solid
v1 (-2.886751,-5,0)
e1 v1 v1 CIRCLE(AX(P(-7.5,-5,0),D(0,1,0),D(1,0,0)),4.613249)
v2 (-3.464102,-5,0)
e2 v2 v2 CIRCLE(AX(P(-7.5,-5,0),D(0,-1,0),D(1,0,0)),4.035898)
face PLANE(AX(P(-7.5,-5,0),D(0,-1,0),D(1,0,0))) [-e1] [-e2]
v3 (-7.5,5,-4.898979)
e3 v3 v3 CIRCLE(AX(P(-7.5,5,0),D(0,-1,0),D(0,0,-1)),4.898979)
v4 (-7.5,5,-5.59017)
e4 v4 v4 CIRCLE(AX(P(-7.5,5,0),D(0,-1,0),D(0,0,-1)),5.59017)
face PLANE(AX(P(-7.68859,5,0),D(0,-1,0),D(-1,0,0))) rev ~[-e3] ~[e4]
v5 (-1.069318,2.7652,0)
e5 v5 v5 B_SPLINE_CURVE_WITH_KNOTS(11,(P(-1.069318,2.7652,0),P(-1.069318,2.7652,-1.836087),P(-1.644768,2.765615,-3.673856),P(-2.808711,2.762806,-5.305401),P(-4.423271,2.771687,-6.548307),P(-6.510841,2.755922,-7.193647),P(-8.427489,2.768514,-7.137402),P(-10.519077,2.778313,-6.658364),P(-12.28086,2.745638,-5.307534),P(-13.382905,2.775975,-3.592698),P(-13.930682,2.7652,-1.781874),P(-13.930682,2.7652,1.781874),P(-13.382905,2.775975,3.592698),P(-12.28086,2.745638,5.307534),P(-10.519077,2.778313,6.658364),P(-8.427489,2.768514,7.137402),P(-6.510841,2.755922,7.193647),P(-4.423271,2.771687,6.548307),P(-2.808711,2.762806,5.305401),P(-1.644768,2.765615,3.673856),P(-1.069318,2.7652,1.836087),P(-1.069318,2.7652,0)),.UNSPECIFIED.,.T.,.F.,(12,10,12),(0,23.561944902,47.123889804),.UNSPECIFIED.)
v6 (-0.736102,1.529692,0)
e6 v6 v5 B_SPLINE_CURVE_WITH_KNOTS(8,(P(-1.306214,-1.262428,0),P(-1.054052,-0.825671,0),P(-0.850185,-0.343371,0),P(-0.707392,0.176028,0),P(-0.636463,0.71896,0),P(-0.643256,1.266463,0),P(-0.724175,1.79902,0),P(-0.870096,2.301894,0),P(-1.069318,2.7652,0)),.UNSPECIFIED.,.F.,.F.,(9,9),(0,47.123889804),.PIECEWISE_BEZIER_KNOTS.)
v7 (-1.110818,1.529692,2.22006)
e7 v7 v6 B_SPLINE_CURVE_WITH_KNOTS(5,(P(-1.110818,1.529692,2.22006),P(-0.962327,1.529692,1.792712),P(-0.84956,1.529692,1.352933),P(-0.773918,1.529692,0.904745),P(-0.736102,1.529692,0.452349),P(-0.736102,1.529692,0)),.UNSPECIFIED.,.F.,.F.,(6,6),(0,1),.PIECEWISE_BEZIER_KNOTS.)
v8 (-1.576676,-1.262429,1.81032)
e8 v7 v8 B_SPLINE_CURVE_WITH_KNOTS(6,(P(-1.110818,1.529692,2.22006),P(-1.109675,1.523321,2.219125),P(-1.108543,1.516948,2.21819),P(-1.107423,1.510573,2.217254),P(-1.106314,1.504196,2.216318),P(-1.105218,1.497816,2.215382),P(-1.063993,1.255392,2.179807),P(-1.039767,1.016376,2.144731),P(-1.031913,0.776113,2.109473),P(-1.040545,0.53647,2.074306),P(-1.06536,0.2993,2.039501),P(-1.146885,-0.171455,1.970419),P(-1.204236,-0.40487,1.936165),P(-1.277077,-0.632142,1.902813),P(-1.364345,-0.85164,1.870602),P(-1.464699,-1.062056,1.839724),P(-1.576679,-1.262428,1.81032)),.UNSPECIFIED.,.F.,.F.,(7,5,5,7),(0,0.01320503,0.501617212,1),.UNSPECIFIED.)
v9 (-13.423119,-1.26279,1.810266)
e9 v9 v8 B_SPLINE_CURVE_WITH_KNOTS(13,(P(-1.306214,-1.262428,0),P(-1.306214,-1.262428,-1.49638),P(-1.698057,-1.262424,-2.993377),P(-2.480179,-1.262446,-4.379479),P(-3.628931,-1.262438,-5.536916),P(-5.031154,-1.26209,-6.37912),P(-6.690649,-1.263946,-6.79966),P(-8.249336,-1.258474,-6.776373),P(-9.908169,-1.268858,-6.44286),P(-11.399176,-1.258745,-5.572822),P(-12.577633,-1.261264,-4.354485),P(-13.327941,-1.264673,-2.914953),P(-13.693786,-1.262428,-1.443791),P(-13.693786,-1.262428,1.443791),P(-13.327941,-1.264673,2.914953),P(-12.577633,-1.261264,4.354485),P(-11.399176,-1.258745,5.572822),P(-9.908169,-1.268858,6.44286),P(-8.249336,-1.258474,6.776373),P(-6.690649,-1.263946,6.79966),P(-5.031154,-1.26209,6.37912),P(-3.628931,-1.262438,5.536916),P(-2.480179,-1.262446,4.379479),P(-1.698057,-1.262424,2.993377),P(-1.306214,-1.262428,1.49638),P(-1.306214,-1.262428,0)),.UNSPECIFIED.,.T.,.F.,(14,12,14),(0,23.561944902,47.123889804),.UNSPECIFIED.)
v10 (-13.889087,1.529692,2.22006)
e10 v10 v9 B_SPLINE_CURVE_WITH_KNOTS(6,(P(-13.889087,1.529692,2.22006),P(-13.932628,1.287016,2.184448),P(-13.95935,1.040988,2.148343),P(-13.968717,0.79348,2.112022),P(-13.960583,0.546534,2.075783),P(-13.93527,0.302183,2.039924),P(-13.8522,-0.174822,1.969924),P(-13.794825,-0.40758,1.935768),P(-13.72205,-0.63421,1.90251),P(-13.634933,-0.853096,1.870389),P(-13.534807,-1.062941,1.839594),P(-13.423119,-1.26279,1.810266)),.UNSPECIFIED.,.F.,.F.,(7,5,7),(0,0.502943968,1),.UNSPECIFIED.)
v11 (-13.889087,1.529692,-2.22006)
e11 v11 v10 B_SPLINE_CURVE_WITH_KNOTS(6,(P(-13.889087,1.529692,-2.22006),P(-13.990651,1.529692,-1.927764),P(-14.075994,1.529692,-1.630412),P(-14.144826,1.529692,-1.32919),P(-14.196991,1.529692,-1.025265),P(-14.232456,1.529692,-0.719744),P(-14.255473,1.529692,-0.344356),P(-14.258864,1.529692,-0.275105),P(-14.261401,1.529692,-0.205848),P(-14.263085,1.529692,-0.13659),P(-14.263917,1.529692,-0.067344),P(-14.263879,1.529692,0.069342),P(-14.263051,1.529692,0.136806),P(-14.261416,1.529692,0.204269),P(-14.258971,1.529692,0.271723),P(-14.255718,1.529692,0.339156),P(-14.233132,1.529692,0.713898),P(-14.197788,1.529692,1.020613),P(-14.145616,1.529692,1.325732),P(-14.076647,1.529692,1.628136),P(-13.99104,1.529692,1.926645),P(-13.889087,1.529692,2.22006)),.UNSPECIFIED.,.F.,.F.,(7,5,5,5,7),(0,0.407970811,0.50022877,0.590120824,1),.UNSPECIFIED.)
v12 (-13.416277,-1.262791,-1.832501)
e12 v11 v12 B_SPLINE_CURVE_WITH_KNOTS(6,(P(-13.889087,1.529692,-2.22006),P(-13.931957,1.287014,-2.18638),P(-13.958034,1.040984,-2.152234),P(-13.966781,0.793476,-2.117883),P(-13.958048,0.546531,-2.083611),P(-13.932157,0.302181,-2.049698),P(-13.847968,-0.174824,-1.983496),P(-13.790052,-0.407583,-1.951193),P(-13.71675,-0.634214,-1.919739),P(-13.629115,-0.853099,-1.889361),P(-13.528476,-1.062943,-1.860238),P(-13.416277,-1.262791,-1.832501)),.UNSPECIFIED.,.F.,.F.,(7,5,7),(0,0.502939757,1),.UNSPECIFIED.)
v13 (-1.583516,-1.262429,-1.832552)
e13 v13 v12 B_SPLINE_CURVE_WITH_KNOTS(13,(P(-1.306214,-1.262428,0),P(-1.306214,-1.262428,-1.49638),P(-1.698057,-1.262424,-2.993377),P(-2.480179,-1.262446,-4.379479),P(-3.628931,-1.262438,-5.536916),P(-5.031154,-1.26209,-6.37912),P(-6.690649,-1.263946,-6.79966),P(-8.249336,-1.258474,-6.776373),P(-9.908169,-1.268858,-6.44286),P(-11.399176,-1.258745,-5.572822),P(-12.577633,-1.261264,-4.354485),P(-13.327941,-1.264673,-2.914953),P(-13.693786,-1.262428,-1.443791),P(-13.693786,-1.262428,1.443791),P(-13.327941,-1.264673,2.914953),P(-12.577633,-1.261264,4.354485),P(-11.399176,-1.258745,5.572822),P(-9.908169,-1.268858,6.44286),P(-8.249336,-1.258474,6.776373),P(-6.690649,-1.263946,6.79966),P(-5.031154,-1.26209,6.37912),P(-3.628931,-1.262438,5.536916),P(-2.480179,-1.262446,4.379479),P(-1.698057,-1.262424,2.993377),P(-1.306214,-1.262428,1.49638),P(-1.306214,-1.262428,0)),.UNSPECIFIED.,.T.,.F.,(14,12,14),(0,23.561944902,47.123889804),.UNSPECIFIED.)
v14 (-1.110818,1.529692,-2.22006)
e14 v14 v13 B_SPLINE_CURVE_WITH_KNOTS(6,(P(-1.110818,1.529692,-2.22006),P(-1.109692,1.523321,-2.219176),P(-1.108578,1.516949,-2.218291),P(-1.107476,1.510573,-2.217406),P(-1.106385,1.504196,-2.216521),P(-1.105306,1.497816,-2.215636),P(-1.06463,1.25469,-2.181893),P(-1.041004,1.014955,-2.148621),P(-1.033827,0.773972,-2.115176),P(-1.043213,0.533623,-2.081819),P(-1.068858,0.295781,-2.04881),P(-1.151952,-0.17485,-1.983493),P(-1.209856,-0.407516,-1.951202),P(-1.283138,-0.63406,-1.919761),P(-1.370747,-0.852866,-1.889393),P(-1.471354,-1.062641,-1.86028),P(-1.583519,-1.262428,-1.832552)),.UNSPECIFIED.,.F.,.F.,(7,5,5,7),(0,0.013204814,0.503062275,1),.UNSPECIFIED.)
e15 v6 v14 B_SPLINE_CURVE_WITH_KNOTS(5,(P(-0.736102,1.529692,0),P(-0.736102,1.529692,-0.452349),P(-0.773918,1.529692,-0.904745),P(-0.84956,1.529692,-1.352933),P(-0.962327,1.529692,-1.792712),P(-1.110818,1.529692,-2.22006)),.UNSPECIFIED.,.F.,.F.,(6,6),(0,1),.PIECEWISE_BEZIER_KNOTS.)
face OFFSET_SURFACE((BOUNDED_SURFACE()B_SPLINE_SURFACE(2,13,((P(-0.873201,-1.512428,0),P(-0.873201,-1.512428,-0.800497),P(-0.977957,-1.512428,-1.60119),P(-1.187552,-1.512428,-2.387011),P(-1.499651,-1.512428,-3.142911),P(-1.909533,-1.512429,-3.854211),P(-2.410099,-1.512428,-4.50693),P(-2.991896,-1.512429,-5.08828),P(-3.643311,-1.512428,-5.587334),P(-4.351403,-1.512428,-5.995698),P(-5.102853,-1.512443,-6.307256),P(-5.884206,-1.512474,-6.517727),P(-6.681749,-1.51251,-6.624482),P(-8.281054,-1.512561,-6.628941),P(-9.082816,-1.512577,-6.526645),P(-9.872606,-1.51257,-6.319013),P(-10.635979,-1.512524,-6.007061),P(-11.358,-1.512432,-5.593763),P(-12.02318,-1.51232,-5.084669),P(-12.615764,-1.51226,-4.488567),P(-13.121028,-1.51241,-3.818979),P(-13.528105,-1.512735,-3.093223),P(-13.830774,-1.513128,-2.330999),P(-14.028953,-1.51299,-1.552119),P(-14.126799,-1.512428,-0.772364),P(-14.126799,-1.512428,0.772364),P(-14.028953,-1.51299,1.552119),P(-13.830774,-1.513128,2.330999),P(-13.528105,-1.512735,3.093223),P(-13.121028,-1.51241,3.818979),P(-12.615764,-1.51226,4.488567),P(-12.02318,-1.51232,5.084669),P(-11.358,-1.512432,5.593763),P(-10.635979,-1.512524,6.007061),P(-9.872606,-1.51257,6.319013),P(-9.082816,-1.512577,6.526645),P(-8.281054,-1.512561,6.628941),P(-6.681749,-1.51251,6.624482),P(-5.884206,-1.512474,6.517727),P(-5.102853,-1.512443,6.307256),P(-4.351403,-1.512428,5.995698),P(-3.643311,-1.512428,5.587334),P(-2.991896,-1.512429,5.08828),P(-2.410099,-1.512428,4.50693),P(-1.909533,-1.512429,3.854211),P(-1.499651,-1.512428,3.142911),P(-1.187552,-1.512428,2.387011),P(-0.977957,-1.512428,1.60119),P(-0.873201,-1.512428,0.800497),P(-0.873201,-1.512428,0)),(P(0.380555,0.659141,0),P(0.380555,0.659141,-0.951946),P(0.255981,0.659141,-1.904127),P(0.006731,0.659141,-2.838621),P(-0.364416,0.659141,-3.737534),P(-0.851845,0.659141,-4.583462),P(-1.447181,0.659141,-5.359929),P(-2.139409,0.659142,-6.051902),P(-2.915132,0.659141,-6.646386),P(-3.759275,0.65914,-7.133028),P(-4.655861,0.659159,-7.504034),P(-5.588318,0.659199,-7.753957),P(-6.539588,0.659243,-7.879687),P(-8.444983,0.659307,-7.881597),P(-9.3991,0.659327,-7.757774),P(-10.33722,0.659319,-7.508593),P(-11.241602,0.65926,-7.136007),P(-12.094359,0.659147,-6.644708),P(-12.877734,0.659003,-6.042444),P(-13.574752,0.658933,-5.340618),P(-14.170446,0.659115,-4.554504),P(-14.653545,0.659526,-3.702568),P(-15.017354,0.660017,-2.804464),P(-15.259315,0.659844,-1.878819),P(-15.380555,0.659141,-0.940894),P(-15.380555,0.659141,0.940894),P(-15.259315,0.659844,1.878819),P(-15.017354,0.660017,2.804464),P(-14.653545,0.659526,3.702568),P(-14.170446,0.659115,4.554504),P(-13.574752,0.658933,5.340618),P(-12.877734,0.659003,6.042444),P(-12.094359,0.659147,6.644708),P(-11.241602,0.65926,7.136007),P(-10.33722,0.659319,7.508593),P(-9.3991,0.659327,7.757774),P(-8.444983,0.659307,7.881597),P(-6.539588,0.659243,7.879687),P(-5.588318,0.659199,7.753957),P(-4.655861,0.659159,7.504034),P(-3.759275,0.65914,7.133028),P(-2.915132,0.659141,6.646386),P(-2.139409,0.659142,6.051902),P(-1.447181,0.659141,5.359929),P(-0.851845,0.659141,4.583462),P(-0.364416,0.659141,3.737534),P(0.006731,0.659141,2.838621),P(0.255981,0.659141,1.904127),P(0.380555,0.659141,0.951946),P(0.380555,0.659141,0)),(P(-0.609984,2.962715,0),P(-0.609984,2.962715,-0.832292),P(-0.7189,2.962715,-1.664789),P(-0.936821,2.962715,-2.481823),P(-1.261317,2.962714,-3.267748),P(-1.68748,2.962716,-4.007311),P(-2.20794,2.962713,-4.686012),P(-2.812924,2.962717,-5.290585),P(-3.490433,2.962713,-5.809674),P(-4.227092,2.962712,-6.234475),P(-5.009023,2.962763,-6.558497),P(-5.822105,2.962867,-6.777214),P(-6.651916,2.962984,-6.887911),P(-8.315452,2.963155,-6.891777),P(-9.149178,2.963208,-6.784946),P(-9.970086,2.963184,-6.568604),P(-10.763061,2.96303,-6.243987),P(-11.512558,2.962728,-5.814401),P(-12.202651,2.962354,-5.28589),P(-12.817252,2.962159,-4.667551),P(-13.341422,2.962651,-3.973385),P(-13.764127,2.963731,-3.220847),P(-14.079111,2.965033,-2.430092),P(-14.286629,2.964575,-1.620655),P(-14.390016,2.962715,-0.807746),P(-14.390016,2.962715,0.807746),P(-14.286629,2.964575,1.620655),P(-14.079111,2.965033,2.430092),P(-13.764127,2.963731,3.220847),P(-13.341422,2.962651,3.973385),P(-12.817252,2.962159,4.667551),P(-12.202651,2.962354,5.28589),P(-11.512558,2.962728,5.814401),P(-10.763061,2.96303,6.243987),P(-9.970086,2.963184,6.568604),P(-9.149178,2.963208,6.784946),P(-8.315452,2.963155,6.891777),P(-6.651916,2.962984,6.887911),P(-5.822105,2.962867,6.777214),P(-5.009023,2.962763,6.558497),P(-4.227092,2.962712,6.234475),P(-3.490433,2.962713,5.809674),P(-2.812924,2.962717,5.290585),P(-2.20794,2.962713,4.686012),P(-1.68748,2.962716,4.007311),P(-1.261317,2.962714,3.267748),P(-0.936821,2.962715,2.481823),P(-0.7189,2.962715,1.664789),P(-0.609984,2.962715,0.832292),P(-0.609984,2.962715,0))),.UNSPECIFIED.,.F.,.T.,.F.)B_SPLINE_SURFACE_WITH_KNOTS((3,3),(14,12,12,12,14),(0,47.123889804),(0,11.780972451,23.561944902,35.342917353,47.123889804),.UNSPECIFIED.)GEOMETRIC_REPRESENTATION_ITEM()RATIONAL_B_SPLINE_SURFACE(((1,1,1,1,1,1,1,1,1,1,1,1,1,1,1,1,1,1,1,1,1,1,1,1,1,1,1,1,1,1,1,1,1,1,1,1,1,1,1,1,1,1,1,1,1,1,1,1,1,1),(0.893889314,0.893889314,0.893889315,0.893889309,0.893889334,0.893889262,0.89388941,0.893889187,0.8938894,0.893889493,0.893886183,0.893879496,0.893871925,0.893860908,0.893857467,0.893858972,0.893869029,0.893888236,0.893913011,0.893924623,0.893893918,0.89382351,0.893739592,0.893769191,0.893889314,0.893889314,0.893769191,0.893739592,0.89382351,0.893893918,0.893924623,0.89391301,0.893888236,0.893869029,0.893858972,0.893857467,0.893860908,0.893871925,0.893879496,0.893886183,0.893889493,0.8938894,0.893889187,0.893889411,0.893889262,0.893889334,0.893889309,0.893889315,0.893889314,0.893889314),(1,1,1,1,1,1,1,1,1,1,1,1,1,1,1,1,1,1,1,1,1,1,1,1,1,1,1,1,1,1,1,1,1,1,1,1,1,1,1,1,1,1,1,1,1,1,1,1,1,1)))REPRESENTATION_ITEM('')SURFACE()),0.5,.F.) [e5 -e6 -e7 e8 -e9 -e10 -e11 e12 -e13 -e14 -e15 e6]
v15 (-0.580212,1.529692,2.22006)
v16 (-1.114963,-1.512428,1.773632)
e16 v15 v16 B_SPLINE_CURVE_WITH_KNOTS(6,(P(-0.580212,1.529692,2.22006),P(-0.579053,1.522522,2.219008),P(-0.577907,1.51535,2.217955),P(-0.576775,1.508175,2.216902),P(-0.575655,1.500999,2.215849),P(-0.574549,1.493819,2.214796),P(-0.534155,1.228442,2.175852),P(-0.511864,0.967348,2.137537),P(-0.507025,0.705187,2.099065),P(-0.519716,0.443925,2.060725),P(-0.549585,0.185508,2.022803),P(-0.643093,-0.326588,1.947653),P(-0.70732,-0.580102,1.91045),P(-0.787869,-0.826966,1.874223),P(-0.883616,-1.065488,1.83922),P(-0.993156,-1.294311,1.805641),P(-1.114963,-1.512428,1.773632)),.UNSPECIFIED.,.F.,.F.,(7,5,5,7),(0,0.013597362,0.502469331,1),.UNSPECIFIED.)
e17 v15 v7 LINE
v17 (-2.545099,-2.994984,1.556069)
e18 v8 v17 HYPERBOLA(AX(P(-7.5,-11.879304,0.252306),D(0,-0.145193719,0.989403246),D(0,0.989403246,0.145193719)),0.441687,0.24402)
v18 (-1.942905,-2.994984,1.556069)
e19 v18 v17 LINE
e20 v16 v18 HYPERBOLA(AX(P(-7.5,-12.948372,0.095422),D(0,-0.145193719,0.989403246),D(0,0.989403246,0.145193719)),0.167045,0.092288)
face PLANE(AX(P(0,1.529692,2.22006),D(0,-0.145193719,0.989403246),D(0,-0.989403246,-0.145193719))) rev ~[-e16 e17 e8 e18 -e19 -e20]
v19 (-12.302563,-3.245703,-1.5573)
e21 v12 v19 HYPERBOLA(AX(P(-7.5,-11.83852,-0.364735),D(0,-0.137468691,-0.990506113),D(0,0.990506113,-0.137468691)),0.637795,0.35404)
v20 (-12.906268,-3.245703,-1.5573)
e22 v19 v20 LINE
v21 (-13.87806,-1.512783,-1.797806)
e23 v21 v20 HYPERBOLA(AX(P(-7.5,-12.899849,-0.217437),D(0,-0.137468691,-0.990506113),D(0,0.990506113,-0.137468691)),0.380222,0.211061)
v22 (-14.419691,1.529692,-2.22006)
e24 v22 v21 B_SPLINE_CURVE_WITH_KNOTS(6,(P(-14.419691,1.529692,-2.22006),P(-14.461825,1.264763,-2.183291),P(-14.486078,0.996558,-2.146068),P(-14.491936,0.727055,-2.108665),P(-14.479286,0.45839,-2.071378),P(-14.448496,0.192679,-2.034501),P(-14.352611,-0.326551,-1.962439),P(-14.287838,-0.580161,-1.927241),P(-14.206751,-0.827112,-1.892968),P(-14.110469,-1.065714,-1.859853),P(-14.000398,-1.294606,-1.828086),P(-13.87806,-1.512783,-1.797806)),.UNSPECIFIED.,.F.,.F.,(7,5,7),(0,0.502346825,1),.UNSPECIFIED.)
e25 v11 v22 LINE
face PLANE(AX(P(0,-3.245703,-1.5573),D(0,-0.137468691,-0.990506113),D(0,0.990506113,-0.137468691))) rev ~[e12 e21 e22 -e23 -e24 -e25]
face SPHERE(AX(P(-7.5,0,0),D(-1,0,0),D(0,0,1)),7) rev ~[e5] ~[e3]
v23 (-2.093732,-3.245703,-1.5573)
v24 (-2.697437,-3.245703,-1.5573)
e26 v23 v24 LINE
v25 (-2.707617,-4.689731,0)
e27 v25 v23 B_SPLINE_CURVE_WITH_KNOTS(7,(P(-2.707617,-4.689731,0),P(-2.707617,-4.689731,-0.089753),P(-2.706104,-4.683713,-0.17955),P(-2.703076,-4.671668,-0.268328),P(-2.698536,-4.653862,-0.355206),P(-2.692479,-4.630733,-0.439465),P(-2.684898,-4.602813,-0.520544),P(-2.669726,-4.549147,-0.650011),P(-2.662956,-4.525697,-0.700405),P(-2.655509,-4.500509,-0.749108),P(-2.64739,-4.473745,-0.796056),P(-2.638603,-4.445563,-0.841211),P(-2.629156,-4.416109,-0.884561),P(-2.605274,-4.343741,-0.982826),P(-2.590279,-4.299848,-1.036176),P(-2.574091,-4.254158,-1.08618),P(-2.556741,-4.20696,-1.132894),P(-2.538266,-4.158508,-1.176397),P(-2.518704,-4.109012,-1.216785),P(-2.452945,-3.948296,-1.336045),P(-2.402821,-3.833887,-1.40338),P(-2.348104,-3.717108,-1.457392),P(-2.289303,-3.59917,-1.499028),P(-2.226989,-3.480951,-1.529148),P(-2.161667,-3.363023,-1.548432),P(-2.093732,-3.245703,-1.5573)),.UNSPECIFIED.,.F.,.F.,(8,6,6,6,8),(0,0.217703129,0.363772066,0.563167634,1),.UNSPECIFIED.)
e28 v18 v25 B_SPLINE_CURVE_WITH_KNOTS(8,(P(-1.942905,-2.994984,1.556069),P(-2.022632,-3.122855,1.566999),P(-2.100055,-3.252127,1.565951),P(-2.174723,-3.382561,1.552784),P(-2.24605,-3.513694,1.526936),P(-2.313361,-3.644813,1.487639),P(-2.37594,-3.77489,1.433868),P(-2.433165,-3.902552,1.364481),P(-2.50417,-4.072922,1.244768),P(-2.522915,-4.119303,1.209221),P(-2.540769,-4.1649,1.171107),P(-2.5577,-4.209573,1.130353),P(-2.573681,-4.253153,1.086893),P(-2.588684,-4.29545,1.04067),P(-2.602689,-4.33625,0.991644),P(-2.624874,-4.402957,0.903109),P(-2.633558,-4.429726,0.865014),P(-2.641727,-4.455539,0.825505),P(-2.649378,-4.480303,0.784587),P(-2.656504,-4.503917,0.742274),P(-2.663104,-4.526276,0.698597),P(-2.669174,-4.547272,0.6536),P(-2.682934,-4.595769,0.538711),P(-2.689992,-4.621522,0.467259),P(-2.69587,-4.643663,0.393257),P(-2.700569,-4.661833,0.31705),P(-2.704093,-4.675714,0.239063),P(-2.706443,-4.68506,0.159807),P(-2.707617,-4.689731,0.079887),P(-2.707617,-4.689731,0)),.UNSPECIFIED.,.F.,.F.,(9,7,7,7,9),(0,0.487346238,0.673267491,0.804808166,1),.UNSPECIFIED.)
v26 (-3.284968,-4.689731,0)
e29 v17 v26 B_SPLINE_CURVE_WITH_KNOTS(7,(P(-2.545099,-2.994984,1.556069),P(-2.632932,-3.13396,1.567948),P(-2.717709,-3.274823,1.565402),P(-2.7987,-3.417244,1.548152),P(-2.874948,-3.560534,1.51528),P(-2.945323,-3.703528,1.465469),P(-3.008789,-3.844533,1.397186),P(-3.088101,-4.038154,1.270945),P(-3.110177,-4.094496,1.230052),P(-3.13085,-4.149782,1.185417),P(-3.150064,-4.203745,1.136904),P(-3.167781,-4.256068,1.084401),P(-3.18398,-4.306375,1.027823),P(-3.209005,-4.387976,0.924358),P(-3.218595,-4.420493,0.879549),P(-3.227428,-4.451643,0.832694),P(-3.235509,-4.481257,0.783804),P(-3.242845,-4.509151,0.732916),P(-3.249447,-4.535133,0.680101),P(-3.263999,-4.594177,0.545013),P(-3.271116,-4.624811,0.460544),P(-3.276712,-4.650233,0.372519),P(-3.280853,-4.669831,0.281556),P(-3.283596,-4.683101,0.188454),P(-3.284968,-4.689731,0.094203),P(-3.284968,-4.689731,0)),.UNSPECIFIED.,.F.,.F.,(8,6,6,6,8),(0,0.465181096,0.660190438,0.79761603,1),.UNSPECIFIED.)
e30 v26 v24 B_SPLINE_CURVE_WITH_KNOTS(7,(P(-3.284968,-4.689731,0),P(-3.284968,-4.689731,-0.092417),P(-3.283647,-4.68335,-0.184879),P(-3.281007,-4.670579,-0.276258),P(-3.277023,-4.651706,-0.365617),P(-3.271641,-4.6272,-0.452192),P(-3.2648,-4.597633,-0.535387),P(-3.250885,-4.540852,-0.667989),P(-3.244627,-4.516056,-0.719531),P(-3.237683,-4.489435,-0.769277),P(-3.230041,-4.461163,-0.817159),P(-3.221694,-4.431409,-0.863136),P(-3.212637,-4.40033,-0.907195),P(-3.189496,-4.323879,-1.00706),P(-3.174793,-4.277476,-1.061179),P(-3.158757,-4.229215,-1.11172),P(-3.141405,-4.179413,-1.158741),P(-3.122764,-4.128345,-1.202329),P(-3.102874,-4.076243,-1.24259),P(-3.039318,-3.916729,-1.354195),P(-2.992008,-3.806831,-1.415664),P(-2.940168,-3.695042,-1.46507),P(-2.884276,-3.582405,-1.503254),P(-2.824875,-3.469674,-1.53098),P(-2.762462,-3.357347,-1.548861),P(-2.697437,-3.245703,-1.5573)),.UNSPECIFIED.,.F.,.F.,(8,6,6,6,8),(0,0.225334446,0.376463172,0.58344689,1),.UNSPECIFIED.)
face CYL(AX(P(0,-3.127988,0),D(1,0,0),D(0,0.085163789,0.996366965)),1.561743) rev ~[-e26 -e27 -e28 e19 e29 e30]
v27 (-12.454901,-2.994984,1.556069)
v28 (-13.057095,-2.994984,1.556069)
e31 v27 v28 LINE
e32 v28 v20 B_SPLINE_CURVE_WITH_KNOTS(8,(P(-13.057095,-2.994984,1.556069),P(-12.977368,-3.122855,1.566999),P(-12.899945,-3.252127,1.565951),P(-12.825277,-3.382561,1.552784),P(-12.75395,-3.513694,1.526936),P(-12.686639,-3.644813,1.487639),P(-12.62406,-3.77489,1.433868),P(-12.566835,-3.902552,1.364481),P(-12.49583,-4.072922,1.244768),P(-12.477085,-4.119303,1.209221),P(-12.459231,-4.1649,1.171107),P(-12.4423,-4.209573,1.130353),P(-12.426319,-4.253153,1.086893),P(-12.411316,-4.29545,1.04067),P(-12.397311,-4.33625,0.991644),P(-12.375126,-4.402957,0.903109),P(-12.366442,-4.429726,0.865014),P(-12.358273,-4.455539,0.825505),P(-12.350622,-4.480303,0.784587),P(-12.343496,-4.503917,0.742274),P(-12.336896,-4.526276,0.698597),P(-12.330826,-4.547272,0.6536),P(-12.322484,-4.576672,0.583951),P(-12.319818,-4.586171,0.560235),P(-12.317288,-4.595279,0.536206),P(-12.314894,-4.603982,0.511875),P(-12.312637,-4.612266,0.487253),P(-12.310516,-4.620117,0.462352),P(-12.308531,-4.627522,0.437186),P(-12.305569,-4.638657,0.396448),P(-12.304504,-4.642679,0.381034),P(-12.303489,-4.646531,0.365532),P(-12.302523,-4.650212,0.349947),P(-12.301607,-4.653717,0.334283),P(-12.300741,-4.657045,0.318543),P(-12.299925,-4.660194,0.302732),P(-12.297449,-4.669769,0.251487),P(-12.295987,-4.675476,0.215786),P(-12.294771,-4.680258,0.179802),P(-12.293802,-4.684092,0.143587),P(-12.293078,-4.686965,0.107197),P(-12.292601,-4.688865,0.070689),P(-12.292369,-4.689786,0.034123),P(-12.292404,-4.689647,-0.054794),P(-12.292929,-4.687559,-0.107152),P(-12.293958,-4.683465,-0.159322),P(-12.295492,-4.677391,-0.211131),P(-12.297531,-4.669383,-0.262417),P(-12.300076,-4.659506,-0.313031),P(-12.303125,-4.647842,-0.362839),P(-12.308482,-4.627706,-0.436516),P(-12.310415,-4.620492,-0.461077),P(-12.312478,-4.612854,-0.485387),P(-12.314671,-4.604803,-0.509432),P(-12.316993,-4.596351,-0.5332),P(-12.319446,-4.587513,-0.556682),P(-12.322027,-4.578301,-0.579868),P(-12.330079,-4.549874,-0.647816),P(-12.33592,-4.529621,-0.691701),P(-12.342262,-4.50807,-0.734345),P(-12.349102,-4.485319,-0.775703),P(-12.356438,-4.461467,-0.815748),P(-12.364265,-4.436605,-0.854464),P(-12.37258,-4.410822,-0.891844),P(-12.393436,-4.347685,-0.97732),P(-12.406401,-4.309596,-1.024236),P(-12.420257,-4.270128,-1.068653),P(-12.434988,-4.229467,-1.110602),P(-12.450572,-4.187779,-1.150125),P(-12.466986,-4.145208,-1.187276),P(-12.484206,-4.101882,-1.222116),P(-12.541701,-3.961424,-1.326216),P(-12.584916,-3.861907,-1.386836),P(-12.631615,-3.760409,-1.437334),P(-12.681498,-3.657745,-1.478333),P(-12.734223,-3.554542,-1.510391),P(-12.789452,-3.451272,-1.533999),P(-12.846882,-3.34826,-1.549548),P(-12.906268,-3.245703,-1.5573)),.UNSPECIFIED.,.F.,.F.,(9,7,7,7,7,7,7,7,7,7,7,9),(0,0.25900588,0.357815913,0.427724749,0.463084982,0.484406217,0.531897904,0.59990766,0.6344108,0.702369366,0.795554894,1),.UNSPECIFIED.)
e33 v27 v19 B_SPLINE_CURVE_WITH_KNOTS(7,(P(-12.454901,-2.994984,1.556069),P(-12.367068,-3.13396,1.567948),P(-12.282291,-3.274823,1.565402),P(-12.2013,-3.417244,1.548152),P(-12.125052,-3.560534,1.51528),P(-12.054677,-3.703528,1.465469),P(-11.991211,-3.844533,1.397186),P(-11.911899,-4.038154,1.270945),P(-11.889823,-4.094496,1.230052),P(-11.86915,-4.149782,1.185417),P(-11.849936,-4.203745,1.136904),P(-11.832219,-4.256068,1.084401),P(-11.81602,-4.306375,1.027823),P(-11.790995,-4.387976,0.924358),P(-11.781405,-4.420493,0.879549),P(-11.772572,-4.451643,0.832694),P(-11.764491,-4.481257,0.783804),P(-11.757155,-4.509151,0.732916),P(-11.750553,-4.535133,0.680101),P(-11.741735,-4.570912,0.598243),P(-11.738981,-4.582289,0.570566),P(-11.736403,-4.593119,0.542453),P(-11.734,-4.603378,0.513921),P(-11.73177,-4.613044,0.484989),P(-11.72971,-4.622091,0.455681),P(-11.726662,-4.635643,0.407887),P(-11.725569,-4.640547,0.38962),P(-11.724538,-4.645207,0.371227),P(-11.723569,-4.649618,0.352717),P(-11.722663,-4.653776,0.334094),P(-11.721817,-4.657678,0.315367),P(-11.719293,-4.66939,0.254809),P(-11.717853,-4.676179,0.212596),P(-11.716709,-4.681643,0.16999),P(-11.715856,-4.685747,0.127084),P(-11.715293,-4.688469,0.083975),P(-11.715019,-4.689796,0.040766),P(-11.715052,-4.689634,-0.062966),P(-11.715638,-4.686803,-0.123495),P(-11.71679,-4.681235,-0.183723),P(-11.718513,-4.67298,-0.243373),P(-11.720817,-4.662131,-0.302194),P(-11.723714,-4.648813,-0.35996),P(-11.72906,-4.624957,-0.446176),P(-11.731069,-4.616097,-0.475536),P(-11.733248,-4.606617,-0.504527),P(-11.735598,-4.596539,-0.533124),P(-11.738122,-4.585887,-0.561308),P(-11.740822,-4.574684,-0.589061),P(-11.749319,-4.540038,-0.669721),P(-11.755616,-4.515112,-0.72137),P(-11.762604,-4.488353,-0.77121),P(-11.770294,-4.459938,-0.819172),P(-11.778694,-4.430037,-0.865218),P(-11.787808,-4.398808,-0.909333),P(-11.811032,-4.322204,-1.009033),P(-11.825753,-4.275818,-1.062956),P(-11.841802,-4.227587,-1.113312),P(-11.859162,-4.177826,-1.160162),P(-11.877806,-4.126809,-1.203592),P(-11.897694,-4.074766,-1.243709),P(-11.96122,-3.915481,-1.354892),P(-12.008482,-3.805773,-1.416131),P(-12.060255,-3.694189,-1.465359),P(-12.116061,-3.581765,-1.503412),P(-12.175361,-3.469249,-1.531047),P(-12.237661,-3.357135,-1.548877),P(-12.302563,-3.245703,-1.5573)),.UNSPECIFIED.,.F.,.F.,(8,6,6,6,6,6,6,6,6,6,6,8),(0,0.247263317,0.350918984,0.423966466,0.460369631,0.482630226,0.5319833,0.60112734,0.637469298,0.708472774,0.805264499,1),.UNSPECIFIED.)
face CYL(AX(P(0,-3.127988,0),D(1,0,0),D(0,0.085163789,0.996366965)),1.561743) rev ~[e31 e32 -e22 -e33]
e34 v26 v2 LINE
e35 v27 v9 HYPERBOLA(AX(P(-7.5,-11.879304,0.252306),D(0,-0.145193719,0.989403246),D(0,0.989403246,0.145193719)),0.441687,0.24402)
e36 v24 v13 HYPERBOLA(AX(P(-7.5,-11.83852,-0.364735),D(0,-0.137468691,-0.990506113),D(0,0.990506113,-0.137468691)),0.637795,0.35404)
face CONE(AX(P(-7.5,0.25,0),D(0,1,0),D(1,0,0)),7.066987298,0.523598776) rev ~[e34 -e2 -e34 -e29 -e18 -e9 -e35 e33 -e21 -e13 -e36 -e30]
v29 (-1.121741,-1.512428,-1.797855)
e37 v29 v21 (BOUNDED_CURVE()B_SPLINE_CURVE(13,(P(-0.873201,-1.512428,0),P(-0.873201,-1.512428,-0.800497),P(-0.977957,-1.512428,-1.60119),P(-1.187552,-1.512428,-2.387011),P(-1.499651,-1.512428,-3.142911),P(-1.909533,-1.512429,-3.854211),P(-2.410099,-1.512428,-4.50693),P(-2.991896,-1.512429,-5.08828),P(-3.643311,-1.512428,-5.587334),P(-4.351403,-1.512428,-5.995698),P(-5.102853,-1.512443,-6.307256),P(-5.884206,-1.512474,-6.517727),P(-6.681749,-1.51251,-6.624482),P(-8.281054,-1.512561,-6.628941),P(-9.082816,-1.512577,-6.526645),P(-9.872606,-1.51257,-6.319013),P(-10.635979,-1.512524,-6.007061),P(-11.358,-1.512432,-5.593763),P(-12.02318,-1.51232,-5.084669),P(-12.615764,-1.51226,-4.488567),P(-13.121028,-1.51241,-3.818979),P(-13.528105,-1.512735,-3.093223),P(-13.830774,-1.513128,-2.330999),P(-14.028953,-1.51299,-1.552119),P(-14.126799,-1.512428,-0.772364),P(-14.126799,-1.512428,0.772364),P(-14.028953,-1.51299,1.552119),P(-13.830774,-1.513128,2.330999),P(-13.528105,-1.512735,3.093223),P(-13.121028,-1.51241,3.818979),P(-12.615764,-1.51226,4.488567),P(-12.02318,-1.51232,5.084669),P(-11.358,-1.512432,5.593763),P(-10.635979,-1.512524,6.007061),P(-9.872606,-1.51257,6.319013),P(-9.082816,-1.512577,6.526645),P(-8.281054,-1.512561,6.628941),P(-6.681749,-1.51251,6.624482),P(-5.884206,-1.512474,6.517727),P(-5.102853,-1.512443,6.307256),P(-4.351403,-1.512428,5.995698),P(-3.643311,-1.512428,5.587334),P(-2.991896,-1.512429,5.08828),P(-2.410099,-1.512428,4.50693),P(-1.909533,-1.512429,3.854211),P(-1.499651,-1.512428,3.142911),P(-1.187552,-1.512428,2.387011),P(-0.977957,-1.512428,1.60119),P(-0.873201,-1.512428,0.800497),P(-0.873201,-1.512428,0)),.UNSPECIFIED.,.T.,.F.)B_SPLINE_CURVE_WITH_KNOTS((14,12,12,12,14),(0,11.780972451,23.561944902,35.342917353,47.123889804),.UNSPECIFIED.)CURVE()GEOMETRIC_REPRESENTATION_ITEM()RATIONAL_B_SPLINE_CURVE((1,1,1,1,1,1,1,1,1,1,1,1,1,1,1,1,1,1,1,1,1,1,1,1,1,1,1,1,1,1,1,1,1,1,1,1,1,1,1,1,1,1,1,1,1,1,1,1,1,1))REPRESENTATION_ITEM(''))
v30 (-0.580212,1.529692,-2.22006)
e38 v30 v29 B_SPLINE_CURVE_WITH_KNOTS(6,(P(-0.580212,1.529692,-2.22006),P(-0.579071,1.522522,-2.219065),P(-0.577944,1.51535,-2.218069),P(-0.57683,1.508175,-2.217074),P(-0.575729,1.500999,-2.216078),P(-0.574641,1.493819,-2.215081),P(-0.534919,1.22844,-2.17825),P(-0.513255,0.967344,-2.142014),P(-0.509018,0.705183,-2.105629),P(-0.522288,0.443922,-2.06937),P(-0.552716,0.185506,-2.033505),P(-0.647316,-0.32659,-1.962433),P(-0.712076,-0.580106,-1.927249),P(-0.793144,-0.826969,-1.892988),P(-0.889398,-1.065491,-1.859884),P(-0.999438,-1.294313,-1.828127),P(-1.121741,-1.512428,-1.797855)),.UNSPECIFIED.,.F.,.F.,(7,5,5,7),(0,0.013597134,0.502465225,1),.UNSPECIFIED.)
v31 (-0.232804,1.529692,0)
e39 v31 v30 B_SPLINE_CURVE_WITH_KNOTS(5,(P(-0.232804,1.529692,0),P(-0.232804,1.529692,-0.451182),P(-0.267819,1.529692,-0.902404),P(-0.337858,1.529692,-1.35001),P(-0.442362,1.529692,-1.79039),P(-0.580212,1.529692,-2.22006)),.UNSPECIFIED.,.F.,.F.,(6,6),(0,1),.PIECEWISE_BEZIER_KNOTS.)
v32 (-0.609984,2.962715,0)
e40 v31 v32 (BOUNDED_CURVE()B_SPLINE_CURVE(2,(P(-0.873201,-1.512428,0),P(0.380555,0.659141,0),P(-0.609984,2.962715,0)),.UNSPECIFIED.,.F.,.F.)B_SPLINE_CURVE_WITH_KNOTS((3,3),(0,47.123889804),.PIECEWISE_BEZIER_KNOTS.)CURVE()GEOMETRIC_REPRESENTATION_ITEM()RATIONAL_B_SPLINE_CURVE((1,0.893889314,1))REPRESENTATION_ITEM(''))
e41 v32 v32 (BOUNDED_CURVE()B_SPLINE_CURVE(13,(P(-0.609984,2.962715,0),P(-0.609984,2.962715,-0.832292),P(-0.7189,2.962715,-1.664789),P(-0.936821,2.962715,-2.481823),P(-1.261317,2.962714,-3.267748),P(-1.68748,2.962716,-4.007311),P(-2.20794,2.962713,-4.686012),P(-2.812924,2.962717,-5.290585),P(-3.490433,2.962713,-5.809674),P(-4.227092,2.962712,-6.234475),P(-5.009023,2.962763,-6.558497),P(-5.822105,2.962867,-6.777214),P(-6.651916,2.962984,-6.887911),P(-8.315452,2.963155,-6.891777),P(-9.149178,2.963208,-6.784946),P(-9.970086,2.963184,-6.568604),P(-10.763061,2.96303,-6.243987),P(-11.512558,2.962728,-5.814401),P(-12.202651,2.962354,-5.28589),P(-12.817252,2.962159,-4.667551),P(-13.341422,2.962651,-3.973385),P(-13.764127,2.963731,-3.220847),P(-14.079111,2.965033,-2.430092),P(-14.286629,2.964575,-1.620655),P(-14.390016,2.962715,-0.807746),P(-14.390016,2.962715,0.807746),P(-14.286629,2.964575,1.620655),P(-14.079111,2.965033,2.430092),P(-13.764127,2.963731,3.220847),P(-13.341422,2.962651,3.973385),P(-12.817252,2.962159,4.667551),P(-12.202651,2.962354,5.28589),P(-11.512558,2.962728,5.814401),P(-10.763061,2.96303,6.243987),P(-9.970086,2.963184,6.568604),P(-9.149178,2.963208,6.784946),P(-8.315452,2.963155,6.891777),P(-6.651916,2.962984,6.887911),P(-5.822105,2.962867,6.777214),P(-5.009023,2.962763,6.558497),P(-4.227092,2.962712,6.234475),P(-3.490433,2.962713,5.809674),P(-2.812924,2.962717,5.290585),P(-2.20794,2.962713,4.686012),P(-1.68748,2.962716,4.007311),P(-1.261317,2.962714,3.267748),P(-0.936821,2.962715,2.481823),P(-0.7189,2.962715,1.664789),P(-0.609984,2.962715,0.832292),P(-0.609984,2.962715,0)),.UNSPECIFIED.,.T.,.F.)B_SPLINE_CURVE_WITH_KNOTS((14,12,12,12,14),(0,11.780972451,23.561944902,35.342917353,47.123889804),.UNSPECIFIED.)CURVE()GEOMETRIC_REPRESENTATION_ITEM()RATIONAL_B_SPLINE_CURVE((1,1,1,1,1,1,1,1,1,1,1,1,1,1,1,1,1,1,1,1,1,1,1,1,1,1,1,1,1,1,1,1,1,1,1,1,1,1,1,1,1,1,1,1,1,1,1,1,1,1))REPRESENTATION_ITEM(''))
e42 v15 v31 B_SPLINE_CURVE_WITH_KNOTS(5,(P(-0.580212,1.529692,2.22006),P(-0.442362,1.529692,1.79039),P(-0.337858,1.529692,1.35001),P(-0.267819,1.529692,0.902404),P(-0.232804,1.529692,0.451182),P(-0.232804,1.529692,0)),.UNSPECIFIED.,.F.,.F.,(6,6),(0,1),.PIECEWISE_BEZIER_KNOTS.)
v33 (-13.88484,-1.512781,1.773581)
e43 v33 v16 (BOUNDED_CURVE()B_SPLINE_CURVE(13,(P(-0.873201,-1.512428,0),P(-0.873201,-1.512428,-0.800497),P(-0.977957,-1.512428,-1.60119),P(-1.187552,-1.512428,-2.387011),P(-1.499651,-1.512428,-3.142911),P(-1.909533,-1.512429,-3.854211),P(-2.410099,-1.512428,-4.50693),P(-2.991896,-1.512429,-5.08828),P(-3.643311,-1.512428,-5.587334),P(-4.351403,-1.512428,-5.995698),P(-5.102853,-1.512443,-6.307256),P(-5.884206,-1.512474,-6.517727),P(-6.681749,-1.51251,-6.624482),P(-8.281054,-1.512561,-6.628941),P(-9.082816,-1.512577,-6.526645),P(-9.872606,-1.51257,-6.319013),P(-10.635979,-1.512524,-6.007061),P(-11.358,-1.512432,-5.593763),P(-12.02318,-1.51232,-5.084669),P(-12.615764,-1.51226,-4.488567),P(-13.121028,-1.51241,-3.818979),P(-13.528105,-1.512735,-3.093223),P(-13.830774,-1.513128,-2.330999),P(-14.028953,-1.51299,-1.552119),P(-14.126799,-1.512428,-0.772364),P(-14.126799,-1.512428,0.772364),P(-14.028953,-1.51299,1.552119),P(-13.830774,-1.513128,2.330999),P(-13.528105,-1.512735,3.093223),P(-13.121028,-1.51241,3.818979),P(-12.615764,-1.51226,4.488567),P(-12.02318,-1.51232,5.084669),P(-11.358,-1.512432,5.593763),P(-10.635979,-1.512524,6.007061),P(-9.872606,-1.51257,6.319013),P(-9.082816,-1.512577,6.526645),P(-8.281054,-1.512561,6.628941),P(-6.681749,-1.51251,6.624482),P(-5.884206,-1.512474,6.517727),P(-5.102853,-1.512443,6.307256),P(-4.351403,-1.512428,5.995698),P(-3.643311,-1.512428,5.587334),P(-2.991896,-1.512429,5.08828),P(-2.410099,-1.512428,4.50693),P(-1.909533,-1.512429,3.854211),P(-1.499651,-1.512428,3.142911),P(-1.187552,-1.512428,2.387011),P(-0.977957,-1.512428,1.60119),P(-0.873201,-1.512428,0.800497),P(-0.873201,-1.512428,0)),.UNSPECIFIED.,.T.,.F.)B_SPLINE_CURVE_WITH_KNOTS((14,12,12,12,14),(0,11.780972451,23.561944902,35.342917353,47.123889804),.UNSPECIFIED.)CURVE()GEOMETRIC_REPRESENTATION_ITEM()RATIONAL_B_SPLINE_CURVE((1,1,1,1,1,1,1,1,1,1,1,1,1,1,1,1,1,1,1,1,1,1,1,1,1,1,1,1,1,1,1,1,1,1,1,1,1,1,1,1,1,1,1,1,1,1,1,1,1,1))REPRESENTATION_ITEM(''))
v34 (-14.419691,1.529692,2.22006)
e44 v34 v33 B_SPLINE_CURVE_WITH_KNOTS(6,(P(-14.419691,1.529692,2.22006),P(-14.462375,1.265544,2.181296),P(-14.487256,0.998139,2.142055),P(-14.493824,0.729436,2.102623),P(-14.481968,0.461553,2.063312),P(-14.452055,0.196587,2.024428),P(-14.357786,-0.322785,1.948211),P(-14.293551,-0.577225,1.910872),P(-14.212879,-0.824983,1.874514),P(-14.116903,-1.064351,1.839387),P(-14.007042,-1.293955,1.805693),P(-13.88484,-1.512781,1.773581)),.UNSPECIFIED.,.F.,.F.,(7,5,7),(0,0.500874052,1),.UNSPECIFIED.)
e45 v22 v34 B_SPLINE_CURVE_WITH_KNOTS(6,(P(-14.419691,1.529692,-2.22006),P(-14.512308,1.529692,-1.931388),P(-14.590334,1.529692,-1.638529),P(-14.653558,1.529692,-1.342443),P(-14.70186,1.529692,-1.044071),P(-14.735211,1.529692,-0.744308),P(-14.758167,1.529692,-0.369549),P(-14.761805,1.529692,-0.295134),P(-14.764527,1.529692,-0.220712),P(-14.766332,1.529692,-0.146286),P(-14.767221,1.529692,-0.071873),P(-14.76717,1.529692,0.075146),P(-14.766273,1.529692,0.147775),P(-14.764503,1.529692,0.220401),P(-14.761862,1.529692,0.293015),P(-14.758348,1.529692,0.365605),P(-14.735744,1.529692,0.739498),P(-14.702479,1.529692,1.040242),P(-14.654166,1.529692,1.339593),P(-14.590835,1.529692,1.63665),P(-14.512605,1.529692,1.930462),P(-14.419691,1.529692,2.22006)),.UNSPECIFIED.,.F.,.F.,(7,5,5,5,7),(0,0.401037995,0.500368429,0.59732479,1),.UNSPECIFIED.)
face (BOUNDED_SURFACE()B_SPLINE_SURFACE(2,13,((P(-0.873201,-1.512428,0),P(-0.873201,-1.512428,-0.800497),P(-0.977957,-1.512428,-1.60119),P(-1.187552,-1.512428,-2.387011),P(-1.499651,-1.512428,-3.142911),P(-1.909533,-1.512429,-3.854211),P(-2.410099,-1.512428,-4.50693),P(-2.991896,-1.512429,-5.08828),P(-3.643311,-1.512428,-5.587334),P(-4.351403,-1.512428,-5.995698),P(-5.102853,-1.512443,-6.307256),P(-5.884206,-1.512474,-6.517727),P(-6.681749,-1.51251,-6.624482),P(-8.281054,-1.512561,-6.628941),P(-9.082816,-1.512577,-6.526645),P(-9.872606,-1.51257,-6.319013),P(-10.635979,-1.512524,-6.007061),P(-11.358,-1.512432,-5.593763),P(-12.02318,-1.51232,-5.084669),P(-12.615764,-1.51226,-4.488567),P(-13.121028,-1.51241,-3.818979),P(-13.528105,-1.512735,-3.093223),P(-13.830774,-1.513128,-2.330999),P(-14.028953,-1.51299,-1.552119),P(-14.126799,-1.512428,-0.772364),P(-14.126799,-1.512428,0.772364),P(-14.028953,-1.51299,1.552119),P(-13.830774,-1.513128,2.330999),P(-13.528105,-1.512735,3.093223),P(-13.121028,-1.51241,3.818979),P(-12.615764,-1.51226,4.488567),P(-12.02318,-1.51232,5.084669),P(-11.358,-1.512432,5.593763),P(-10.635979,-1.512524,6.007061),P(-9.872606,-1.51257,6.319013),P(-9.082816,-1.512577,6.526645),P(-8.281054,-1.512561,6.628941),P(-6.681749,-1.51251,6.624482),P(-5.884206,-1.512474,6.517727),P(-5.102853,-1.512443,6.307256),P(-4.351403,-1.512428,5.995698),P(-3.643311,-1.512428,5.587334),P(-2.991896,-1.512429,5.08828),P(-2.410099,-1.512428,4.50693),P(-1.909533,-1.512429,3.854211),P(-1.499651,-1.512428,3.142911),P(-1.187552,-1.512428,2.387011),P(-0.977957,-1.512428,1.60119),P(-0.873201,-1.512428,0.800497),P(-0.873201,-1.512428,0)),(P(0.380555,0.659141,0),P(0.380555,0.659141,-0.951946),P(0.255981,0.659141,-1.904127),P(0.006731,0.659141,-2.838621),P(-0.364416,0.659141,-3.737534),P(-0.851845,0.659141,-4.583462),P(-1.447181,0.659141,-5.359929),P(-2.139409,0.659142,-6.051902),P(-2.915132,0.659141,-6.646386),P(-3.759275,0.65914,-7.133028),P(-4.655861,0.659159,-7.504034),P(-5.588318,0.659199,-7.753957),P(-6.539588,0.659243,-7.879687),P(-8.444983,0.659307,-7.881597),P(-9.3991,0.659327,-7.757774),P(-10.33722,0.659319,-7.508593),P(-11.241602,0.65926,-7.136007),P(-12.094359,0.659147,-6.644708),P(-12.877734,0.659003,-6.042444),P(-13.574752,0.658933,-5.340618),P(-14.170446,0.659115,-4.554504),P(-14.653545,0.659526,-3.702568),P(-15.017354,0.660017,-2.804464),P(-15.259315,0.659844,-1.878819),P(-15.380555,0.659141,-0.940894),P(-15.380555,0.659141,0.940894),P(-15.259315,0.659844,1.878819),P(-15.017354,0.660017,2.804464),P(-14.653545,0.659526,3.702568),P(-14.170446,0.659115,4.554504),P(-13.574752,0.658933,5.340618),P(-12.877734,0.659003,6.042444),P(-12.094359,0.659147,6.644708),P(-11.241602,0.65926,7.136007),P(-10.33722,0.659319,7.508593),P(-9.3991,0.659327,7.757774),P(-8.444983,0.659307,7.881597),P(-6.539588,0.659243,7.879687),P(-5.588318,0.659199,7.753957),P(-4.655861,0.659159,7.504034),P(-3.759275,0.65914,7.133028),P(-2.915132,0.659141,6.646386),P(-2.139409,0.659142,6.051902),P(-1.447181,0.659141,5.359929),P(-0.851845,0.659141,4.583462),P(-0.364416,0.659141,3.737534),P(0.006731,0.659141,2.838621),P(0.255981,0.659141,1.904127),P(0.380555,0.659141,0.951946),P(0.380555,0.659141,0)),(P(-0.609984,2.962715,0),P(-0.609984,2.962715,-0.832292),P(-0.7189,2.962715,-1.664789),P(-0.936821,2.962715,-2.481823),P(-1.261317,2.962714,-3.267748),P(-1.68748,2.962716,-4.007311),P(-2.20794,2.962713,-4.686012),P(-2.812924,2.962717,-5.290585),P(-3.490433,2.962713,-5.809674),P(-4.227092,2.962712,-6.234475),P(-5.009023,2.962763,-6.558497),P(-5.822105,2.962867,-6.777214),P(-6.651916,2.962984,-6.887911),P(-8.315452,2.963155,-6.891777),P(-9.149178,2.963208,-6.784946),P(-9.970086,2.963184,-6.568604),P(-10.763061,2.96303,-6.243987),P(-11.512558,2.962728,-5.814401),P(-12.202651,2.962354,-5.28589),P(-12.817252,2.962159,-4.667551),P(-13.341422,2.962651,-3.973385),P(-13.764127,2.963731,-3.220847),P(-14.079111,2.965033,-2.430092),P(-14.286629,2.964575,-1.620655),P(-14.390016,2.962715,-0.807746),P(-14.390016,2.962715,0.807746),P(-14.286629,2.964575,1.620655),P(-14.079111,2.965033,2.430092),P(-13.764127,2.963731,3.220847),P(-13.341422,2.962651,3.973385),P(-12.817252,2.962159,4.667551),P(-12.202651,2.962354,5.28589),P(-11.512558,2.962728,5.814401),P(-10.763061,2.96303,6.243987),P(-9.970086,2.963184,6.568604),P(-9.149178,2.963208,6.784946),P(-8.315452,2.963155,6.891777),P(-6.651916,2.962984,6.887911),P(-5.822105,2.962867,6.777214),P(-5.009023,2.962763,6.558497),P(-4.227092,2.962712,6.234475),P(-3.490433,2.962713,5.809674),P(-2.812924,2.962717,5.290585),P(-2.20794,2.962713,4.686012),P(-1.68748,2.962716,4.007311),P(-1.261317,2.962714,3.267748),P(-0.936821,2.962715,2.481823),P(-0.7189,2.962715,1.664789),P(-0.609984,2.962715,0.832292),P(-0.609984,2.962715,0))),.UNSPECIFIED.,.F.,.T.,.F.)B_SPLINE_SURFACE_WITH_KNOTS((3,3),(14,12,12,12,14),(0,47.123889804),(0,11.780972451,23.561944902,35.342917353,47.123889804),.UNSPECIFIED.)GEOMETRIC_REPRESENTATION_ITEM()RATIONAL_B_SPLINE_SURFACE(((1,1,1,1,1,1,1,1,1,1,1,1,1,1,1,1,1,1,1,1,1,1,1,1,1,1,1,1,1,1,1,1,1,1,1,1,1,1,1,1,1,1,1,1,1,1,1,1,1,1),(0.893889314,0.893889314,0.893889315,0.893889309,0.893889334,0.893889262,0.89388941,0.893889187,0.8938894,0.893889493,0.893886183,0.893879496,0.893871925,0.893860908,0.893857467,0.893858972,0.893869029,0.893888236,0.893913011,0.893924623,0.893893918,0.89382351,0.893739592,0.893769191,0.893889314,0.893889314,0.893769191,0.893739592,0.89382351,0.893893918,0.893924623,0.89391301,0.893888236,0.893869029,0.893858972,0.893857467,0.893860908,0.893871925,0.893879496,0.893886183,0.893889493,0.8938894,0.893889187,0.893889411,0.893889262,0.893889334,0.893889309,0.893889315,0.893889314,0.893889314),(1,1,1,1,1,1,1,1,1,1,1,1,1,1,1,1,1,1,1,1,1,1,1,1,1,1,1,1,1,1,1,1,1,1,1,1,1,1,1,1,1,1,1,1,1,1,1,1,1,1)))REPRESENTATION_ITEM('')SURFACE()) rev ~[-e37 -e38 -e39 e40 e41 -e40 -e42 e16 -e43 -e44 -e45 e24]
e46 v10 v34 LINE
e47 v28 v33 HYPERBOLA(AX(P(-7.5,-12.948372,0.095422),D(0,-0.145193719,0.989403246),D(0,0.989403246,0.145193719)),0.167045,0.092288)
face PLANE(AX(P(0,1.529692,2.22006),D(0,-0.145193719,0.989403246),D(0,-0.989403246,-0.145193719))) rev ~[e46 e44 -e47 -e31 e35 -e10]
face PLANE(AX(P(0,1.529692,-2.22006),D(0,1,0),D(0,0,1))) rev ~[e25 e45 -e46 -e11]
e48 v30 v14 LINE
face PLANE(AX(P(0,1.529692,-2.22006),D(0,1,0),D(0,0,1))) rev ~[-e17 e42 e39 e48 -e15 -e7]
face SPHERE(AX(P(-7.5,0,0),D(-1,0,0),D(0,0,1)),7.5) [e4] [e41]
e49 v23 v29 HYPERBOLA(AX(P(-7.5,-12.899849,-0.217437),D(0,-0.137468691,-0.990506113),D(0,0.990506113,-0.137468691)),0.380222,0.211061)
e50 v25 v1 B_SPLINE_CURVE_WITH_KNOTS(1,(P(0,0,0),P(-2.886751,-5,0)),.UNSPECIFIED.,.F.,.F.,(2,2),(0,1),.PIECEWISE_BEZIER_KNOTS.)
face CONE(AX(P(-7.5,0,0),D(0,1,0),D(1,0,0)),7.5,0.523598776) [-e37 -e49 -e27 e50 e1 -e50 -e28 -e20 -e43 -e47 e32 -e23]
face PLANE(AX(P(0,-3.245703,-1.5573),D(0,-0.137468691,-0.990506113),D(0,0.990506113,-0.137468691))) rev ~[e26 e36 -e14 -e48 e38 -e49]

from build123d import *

# Parameters (mm, degrees)
REVOLVE1_ANGLE      = 180
SKETCH8_R           = 7.5
BOSS_EXTRUDE1_DEPTH = 5
BOSS_EXTRUDE1_TAPER = 30
FILLET3_R           = 5
SHELL7_T            = -0.5
CUT_EXTRUDE1_DEPTH  = 23
CUT_EXTRUDE4_DEPTH  = 2.5


with BuildPart() as part:
    # Sketch5 → Revolve1 (revolve)
    with BuildSketch(Plane(origin=(0, 0, 0), x_dir=(1, 0, 0), z_dir=(0, 1, 0))):
        with BuildLine():
            Line((-15, 0), (0, 0))
            ThreePointArc((0, 0), (-7.5, -7.5), (-15, 0))
        make_face()
    revolve(axis=Axis((0, 0, 0), (-1, 0, 0)), revolution_arc=REVOLVE1_ANGLE)

    # Sketch8 → Boss-Extrude1 (add)
    with BuildSketch(Plane.XZ):
        with Locations((-7.5, 0)):
            Circle(SKETCH8_R)
    extrude(amount=BOSS_EXTRUDE1_DEPTH, taper=BOSS_EXTRUDE1_TAPER)

    # Fillet3
    fillet3_edges = [part.edges().sort_by_distance(p)[0] for p in [
        (-7.5, 0, -7.5),
    ]]
    fillet(fillet3_edges, radius=FILLET3_R)

    # Shell7
    shell7_openings = [part.faces().sort_by_distance(p)[0] for p in [
        (-7.5, -5, 0),
    ]]
    offset(amount=SHELL7_T, openings=shell7_openings, kind=Kind.INTERSECTION)

    # Sketch9 → Cut-Extrude1 (cut)
    with BuildSketch(Plane(origin=(0, 0, 0), x_dir=(0, 0, -1), z_dir=(1, 0, 0))):
        with BuildLine():
            Line((1.557300456, -3.245702646), (2.220059838, 1.52969178))
            Line((2.220059838, 1.52969178), (-2.220059838, 1.52969178))
            Line((-2.220059838, 1.52969178), (-1.556069246, -2.994983603))
            ThreePointArc((-1.556069246, -2.994983603), (-0.125361033, -4.684691185), (1.557300456, -3.245702646))
        make_face()
    extrude(amount=-CUT_EXTRUDE1_DEPTH, mode=Mode.SUBTRACT)

    # Sketch11 → Cut-Extrude4 (cut)
    with BuildSketch(Plane(origin=(0, 7.5, 0), x_dir=(1, 0, 0), z_dir=(0, 1, 0))):
        Polygon((-7.5, 6.89001607), (-0.60998393, 6.89001607), (-0.60998393, -6.89001607), (-14.767195706, -6.89001607), (-14.767195706, 0), (-14.767195706, 6.89001607), align=None)
    extrude(amount=-CUT_EXTRUDE4_DEPTH, mode=Mode.SUBTRACT)


solid = part.part
